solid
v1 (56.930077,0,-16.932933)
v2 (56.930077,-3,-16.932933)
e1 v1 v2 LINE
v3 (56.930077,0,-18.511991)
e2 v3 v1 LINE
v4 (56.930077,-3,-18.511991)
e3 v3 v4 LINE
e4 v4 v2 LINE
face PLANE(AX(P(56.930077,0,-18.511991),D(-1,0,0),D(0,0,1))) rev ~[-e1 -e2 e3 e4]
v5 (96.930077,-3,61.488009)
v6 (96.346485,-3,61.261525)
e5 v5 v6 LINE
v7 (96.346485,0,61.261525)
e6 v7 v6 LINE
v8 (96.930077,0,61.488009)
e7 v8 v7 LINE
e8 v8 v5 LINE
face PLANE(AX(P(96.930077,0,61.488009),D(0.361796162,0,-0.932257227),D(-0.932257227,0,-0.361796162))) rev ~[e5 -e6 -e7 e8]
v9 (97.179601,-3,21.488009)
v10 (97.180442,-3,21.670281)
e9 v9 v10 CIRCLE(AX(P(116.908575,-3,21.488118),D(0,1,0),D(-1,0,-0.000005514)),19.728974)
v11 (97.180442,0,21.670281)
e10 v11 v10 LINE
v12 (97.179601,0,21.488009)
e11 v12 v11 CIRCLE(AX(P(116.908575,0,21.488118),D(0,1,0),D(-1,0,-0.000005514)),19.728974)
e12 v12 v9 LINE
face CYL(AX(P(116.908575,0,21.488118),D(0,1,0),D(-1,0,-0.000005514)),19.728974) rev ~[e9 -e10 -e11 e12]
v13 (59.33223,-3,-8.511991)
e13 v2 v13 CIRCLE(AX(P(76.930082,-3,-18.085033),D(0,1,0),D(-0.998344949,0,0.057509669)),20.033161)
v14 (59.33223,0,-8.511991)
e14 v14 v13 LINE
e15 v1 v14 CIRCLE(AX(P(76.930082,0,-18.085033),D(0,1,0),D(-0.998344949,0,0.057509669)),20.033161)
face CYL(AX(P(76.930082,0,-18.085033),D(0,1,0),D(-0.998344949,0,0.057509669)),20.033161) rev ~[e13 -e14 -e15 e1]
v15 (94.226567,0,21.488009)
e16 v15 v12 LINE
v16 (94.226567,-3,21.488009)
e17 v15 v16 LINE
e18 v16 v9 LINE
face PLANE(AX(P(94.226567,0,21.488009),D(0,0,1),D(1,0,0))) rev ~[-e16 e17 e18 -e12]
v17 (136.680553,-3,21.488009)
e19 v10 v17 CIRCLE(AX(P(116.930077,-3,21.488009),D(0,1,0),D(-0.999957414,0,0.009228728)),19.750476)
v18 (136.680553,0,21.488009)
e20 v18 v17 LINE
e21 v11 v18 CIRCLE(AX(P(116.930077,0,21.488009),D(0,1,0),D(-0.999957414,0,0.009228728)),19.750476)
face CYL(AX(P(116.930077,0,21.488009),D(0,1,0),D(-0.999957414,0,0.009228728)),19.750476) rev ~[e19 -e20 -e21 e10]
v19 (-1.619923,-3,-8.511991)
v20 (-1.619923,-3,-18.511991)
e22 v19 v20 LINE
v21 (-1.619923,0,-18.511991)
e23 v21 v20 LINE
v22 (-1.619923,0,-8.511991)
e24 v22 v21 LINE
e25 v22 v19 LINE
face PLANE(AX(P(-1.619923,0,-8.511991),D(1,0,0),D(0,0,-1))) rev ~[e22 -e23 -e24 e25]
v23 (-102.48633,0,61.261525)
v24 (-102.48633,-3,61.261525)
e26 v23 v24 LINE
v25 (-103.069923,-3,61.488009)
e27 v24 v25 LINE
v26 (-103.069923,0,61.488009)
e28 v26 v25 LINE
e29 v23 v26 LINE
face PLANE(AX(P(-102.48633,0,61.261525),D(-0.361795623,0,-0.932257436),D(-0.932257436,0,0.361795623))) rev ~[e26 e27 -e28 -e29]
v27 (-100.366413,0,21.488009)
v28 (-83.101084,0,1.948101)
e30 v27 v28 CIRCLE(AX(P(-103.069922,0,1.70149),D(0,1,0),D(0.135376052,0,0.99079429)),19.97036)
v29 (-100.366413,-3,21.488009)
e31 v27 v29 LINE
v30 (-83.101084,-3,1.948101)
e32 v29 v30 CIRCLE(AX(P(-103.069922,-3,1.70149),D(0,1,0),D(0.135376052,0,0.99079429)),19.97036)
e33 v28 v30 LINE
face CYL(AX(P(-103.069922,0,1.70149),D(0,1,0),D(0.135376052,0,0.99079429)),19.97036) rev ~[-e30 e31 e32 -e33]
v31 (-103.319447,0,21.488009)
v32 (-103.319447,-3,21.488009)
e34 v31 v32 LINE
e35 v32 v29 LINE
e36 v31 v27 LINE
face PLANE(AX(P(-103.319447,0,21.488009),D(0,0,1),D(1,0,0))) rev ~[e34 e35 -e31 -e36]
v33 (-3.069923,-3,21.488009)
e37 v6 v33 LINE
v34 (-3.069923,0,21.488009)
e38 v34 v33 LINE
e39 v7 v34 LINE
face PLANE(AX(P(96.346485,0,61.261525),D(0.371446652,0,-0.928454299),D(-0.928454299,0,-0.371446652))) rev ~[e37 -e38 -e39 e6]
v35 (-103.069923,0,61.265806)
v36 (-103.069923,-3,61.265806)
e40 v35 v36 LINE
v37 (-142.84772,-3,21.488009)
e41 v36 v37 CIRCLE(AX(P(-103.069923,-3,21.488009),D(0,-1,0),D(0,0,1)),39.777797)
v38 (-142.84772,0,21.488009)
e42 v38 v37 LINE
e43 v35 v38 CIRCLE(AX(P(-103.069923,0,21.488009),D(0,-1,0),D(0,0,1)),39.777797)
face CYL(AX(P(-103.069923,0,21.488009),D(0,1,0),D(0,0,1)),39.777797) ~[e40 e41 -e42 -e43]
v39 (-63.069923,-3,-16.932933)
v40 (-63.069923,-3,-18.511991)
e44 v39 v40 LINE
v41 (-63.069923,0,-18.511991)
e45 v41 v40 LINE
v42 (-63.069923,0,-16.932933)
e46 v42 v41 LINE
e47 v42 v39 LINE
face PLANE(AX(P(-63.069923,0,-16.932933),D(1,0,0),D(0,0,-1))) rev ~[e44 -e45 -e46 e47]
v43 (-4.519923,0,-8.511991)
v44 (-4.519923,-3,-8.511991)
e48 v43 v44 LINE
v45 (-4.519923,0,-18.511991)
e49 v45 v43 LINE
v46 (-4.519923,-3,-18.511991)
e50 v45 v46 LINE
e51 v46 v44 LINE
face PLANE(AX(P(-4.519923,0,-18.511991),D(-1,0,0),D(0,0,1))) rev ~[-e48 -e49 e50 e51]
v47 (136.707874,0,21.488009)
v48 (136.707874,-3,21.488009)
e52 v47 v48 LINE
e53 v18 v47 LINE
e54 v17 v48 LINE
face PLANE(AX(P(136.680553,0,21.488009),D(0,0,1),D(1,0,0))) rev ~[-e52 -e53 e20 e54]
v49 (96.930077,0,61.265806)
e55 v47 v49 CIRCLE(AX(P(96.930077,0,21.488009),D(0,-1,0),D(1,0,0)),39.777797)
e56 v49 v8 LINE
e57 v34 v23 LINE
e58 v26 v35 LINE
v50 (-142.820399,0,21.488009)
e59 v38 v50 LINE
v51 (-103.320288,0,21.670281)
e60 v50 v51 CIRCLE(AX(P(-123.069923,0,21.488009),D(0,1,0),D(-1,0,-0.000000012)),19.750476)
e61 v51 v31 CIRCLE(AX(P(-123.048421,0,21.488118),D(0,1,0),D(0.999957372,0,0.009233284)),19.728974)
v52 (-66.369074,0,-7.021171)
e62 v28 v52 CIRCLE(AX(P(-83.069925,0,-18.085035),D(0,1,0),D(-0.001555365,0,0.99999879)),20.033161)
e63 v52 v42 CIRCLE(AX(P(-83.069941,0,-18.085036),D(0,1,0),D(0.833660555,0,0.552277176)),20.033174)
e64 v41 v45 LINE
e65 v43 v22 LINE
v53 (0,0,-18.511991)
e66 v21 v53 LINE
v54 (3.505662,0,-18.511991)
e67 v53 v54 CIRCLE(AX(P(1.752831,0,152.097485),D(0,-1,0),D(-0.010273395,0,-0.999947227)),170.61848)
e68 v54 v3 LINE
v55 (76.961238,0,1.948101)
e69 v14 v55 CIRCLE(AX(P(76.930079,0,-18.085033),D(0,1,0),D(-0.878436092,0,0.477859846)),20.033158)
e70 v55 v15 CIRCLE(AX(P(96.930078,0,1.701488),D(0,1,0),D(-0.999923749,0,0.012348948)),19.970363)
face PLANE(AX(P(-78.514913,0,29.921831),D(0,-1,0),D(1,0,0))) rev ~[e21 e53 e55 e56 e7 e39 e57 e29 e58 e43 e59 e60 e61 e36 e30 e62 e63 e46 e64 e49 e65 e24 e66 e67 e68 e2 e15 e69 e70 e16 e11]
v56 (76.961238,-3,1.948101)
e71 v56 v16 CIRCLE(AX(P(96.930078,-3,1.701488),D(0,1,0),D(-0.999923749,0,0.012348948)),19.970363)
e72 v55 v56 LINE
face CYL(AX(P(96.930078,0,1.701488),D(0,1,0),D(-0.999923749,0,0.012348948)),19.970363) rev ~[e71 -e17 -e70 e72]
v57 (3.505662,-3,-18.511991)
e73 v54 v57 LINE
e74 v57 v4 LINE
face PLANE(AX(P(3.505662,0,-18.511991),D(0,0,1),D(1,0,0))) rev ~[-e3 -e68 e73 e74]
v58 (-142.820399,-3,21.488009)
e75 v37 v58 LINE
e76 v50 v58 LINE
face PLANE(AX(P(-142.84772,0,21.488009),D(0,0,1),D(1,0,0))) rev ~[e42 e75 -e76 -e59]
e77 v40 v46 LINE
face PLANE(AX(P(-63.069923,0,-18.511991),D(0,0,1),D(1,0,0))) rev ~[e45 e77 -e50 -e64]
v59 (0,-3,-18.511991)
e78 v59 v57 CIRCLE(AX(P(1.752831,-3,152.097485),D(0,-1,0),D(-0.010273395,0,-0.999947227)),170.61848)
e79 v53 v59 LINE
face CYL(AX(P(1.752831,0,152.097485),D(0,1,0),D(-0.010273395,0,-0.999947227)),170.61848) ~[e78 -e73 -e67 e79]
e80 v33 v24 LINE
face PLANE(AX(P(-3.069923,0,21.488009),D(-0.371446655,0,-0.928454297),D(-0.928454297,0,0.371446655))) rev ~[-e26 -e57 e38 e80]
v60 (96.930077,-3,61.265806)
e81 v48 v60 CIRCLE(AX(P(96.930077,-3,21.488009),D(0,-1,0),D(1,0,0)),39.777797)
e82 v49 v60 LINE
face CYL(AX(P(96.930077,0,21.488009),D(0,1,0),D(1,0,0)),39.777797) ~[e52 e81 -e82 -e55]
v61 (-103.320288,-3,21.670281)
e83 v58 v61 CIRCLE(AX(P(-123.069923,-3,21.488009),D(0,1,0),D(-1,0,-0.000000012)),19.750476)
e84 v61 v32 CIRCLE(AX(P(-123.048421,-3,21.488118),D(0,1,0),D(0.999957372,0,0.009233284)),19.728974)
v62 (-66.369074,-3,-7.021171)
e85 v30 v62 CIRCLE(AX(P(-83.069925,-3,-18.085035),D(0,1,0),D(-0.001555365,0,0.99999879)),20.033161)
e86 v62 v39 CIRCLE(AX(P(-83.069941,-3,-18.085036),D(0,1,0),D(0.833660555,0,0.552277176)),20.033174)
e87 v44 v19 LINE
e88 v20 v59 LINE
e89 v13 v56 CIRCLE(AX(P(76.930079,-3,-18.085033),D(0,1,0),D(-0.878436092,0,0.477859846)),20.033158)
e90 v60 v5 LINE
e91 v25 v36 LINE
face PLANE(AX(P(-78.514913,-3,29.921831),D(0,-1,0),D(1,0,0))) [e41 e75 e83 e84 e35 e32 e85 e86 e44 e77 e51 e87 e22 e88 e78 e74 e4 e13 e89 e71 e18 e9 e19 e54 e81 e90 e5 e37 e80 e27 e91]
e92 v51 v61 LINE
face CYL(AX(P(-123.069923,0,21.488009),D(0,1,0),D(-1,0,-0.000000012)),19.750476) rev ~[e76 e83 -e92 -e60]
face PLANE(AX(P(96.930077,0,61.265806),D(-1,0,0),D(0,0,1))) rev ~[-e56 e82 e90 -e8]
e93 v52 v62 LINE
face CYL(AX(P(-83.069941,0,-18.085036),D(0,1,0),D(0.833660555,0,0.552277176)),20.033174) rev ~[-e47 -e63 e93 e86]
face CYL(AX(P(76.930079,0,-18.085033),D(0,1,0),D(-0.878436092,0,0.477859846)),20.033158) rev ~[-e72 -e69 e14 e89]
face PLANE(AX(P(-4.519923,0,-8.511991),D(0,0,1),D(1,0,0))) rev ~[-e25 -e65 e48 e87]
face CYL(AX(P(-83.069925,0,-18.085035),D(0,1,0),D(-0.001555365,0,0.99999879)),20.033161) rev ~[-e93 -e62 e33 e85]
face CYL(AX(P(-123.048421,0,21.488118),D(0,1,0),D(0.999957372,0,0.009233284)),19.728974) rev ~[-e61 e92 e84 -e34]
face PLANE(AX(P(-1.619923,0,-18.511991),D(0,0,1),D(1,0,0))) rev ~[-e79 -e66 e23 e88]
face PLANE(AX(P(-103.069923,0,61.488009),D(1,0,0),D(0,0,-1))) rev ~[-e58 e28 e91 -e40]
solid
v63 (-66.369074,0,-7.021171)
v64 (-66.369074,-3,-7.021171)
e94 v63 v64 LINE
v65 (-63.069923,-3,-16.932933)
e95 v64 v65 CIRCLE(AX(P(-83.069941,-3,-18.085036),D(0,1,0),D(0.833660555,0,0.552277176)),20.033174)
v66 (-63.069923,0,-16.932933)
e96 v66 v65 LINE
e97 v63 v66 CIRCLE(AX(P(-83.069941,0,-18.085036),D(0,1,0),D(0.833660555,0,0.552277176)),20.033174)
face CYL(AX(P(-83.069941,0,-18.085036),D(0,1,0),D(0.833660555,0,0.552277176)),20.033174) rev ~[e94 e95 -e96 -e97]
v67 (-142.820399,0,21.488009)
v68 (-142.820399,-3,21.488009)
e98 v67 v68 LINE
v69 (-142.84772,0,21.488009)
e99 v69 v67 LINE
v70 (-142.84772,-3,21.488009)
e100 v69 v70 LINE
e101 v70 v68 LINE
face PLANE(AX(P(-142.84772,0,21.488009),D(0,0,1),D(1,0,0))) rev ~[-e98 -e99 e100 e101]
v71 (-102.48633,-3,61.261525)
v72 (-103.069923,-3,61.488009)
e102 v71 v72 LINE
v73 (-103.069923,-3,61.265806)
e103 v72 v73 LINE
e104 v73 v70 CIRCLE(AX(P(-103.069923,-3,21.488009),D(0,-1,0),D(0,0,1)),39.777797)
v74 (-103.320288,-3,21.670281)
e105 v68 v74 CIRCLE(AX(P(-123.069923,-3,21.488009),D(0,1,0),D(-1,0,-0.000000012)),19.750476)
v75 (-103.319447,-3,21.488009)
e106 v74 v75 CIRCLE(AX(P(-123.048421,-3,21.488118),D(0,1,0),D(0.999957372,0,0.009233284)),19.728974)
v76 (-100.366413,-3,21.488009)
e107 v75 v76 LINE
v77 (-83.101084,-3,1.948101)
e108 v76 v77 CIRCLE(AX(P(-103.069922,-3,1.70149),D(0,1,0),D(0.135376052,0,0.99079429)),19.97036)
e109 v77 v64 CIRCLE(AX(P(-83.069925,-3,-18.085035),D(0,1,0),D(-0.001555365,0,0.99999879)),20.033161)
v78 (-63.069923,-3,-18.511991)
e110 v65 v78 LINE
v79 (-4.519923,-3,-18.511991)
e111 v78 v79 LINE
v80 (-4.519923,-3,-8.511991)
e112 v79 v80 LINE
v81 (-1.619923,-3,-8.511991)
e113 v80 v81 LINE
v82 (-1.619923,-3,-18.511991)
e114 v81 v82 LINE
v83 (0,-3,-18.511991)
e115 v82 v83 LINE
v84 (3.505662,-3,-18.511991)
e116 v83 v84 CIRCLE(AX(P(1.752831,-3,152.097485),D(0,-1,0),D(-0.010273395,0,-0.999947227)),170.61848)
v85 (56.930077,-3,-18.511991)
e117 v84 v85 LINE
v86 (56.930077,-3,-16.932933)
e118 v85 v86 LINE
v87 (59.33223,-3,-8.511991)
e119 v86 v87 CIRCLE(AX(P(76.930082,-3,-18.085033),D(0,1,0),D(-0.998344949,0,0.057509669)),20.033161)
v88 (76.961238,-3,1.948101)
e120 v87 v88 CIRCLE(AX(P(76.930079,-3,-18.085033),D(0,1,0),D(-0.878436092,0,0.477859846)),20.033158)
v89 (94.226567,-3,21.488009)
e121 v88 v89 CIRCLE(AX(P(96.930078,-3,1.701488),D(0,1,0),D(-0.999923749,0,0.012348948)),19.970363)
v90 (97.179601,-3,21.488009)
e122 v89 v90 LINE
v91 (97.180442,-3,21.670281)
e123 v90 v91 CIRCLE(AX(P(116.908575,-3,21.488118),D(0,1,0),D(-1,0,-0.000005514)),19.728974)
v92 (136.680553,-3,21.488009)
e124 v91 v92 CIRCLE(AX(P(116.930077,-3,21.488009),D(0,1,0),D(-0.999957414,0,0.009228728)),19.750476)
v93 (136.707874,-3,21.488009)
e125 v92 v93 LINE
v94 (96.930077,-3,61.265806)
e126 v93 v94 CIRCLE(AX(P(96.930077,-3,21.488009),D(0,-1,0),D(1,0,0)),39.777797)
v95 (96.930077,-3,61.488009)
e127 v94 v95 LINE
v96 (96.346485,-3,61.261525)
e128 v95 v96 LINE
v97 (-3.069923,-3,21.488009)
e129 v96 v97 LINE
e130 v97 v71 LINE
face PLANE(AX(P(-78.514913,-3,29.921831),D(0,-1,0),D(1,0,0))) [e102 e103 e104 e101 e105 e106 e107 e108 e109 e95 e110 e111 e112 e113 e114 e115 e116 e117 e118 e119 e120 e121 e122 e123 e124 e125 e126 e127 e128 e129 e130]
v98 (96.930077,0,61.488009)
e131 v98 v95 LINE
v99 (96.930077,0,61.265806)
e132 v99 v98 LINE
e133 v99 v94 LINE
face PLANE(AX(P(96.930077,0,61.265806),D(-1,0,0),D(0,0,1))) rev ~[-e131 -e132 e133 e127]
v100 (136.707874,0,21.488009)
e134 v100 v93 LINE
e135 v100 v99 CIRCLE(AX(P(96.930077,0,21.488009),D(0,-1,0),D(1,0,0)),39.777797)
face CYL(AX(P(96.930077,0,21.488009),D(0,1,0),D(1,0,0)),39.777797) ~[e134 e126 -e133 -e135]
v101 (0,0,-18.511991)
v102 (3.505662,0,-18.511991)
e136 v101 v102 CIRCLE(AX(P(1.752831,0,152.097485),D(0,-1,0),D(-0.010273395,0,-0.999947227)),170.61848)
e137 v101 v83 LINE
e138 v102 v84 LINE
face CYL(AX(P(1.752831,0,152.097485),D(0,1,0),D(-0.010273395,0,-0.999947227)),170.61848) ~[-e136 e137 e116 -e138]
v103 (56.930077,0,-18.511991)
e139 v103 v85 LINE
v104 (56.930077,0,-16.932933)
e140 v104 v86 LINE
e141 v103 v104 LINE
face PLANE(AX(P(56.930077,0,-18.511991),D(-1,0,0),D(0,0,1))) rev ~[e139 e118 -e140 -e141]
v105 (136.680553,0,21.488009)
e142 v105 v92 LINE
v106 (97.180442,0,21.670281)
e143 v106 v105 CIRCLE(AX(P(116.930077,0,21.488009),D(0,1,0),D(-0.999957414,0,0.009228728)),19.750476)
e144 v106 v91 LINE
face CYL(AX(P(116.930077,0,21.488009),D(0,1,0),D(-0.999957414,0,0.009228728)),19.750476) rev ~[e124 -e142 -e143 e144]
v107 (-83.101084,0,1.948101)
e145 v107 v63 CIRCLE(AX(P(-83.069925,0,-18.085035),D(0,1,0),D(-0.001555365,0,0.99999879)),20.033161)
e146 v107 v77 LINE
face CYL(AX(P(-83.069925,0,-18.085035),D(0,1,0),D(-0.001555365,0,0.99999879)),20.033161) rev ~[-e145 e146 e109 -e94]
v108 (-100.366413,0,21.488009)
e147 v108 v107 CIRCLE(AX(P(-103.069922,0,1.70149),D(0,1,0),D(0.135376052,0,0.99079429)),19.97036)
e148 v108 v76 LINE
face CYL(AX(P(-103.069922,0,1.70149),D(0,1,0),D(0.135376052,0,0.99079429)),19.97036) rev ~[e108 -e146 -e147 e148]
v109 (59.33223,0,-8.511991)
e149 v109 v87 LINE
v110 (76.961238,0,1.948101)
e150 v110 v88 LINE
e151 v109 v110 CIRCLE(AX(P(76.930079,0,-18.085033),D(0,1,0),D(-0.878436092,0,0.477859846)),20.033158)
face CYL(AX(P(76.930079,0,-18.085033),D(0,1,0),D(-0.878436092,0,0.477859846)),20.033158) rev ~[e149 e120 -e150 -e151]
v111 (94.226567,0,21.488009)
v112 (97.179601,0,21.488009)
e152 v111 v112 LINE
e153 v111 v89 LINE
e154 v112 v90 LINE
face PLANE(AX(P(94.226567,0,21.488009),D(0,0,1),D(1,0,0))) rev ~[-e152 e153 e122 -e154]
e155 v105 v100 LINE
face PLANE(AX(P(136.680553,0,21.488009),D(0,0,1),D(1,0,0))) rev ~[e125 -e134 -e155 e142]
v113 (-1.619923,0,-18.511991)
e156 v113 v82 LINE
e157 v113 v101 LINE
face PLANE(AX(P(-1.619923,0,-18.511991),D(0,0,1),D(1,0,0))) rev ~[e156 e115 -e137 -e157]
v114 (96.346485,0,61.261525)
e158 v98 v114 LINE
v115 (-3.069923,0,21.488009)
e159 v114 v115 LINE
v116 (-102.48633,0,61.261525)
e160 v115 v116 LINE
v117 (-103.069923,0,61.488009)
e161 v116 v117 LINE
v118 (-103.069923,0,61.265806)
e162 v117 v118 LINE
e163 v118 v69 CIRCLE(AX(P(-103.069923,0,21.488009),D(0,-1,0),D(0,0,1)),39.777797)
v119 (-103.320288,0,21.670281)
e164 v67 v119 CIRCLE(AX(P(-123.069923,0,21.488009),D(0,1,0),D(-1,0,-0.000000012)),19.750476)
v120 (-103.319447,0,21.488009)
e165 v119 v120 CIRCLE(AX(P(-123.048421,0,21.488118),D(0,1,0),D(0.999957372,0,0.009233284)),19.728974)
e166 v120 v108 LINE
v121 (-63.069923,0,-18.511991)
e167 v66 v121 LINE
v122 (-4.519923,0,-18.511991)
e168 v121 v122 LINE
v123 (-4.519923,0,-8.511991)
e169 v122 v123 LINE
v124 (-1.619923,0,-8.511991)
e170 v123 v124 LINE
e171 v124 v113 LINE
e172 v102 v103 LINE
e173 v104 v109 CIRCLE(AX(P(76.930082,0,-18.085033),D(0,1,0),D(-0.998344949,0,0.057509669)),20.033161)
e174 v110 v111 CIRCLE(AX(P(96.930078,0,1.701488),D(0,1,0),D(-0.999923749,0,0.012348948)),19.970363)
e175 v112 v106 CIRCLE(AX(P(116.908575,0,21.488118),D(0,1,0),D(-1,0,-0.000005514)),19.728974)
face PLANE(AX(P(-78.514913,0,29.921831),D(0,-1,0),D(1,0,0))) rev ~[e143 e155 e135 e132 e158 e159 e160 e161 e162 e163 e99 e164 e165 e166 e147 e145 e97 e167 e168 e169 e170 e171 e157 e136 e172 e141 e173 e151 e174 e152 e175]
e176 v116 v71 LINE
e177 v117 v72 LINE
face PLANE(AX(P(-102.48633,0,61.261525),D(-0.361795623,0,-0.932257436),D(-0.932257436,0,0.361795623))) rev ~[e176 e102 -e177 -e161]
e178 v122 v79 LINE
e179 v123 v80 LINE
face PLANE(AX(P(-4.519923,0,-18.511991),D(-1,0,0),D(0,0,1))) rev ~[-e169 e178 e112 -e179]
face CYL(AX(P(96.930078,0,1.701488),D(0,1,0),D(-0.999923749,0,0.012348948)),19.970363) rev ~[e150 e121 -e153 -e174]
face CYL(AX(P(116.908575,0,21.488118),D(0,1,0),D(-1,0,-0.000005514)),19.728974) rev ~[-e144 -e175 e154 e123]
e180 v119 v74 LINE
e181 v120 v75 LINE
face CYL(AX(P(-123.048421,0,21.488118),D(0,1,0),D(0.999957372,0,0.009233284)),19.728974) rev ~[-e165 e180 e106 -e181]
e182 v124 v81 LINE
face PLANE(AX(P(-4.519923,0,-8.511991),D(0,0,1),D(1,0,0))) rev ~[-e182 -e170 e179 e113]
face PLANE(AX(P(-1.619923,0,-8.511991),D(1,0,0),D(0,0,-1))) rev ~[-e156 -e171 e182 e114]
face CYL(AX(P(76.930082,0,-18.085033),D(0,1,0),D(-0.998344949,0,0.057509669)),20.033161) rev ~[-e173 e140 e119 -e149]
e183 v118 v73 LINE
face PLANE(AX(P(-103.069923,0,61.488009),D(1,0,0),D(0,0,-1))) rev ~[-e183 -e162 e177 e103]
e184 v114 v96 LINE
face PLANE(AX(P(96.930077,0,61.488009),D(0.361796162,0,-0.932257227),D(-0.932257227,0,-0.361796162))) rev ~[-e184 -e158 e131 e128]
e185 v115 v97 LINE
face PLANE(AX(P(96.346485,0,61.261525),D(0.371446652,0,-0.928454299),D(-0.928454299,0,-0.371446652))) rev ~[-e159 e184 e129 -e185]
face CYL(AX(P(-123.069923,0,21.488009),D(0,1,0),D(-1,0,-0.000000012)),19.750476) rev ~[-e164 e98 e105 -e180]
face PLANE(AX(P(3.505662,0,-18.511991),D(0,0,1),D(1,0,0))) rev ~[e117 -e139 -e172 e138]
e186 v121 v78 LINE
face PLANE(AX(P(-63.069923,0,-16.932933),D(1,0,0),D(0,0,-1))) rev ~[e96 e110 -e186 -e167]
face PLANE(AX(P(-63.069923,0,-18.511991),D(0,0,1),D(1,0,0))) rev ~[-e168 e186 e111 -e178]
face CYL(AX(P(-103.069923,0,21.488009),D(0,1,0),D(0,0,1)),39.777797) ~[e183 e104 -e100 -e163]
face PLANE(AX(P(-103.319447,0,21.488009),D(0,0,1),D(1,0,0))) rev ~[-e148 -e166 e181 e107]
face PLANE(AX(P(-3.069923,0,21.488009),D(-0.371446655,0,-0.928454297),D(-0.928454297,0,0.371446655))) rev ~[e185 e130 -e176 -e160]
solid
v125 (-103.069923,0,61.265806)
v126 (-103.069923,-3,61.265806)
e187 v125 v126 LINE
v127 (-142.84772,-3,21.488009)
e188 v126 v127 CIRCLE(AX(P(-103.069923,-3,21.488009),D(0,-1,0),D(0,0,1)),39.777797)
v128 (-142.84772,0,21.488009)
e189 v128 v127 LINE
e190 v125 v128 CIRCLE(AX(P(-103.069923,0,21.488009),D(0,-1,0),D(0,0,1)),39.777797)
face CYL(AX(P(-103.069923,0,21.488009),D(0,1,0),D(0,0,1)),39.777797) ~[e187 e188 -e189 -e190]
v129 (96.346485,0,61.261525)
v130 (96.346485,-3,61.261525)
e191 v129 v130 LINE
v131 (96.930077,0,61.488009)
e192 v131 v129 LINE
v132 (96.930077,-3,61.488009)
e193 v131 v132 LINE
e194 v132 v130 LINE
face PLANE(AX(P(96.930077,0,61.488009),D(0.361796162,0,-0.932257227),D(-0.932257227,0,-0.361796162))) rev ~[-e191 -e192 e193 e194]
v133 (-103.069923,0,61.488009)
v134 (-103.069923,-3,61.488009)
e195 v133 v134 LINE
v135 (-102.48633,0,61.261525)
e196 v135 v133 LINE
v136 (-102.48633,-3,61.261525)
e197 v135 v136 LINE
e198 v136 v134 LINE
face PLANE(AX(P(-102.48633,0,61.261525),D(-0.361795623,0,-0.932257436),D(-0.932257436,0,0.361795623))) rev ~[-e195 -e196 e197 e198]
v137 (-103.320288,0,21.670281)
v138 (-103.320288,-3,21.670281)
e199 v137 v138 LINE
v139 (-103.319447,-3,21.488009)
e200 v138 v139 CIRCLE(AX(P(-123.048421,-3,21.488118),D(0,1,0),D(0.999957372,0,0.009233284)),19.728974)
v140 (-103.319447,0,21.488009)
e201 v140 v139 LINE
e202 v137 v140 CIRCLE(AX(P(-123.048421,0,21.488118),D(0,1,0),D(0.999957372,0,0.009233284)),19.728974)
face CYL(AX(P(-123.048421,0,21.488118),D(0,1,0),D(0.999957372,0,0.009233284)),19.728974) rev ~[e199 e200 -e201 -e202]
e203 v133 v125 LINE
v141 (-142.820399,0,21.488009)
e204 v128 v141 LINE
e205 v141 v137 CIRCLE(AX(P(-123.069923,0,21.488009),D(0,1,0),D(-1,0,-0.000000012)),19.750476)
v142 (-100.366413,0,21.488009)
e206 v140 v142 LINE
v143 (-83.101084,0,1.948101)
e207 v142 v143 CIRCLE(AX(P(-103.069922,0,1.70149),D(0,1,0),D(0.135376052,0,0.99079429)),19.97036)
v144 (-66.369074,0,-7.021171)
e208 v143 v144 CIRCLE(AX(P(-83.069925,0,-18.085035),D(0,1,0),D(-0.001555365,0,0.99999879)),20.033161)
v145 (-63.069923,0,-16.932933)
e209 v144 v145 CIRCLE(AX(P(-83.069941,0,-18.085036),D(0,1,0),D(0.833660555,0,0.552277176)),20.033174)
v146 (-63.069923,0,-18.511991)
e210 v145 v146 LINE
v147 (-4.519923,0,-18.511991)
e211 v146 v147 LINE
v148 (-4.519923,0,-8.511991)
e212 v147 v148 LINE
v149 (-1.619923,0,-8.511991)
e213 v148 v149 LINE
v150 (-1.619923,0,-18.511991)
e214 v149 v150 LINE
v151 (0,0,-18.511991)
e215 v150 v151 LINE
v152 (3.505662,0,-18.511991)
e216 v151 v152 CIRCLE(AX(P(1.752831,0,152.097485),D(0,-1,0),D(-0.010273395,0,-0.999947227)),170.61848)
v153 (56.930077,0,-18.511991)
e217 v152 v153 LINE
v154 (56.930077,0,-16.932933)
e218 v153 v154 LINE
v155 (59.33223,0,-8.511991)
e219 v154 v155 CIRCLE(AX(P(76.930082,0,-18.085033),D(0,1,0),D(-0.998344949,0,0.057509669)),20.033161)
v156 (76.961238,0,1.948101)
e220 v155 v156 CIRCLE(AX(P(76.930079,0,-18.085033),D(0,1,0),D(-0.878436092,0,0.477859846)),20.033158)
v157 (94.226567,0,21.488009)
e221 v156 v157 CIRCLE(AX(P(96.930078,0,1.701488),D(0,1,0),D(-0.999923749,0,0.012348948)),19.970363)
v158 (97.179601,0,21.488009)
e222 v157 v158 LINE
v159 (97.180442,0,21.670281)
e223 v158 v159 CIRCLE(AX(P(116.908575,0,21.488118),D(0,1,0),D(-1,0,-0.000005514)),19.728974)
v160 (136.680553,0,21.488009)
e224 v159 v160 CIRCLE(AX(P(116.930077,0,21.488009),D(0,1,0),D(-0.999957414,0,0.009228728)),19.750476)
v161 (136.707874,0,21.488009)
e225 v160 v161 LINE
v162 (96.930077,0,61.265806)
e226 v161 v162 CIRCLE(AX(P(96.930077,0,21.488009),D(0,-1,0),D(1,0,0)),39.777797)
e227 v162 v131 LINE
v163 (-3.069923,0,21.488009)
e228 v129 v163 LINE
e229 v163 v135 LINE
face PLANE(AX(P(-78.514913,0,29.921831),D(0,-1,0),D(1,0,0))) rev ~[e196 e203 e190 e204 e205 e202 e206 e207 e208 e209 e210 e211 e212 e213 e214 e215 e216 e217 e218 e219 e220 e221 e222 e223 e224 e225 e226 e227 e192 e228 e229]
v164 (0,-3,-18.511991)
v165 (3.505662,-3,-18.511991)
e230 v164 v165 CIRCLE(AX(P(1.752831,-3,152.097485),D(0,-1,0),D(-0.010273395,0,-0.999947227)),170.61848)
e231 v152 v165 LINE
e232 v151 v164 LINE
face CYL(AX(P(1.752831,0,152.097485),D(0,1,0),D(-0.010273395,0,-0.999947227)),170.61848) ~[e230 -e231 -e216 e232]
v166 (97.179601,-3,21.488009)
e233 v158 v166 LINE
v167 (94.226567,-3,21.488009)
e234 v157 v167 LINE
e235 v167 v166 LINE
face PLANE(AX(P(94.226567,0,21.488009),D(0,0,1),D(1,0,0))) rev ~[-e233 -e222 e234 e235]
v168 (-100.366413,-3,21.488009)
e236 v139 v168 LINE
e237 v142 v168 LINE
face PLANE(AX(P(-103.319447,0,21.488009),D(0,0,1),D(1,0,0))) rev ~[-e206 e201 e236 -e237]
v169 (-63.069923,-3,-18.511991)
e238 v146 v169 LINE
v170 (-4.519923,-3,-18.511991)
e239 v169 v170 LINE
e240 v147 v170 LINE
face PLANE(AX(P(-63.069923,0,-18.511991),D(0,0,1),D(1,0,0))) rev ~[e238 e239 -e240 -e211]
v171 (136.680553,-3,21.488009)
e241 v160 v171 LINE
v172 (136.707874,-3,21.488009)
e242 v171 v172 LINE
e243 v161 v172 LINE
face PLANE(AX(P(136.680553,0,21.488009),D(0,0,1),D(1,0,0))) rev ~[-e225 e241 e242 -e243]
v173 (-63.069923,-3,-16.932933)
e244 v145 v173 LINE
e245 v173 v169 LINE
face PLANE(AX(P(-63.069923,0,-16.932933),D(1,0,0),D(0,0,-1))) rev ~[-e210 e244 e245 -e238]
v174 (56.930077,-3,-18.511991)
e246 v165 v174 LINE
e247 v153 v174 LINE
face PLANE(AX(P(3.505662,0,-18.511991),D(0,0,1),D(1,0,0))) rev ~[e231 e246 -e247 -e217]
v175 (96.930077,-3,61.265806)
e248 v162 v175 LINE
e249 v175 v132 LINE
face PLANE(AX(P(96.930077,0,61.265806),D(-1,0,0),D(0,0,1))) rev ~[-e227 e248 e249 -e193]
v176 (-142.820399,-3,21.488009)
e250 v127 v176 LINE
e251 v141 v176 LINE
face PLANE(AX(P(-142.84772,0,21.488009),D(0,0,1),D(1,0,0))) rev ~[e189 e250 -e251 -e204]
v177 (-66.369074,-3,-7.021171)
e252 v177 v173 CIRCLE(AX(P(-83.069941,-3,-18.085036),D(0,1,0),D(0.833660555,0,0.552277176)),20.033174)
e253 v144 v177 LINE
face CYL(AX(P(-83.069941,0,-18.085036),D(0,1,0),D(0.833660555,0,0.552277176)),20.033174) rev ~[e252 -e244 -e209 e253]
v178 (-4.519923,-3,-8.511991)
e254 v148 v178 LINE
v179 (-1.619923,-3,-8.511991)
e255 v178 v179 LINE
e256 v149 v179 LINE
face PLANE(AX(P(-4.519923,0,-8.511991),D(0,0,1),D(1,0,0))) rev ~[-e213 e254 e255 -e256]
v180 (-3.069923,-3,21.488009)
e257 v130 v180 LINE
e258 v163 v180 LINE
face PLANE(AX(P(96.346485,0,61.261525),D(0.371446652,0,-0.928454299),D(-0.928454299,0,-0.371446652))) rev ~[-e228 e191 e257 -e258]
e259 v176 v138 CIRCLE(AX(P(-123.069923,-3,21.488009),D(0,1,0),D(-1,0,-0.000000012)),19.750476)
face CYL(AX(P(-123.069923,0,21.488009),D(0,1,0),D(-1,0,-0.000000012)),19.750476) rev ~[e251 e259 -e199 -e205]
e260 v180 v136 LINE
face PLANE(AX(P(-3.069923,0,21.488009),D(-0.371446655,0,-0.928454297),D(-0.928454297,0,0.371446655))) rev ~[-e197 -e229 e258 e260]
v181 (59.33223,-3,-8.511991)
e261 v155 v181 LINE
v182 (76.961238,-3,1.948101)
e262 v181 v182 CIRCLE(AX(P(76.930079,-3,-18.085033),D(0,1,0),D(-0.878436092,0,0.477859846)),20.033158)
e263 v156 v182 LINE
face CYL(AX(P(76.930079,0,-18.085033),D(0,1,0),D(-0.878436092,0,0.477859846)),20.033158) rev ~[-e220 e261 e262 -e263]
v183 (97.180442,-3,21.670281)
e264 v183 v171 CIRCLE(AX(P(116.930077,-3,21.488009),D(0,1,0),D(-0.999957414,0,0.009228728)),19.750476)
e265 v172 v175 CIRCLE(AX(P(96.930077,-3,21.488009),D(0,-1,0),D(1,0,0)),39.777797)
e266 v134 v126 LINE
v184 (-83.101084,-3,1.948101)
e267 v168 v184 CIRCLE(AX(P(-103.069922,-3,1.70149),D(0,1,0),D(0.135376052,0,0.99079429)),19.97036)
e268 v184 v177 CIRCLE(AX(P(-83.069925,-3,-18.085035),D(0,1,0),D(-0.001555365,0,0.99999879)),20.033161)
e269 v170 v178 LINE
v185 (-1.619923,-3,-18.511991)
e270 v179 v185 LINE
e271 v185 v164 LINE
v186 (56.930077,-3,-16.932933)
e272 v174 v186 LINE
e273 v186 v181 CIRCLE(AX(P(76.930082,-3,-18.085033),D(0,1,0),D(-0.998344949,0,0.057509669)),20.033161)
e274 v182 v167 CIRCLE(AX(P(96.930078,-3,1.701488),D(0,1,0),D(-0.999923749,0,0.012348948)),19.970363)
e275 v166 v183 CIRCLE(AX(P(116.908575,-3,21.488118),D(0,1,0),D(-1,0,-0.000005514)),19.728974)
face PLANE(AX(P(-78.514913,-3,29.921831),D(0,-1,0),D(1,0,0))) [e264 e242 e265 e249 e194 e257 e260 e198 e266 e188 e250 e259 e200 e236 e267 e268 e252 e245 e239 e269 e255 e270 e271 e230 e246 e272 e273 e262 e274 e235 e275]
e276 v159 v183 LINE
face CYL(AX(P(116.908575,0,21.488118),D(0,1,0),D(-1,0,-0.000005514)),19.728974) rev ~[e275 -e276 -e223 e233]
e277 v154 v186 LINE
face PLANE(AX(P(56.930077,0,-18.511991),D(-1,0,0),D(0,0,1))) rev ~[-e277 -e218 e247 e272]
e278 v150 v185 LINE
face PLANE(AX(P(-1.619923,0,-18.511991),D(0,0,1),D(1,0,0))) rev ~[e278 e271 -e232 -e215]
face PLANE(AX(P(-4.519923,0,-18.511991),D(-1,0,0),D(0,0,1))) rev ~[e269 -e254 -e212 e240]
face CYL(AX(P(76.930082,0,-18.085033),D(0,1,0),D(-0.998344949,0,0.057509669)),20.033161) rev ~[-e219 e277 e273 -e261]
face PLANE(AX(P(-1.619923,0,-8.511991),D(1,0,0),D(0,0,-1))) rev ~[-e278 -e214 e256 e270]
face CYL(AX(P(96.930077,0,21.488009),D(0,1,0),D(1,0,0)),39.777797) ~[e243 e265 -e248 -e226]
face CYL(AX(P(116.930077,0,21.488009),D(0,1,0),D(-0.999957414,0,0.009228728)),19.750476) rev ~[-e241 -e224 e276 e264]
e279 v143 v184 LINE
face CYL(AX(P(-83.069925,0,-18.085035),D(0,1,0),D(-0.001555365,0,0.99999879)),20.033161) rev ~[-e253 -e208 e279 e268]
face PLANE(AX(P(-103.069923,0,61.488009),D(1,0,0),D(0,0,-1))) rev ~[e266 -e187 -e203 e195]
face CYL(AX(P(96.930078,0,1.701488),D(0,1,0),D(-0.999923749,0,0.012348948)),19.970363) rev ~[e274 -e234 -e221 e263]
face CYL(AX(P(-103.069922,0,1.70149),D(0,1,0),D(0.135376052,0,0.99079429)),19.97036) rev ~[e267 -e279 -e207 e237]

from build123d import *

# Parameters (mm, degrees)
F1_DEPTH = 3
F2_DEPTH = 3
F3_DEPTH = 3


with BuildPart() as f1:
    # F0 (on Front) → F1 (new body)
    with BuildSketch(Plane.XZ):
        with BuildLine():
            Line((-63.069923, -8.252302), (-63.069923, 21.488009))
            Line((-63.069923, 21.488009), (-3.069923, 21.488009))
            Line((-3.069923, 21.488009), (-102.48633, 61.261525))
            ThreePointArc((-102.48633, 61.261525), (-102.778119, 61.264736), (-103.069923, 61.265806))
            ThreePointArc((-103.069923, 61.265806), (-131.197073, 49.615159), (-142.84772, 21.488009))
            Line((-142.84772, 21.488009), (-142.820399, 21.488009))
            ThreePointArc((-142.820399, 21.488009), (-123.16106, 41.238275), (-103.320288, 21.670281))
            ThreePointArc((-103.320288, 21.670281), (-103.195108, 21.671458), (-103.069923, 21.67185))
            ThreePointArc((-103.069923, 21.67185), (-101.715046, 21.625837), (-100.366413, 21.488009))
            ThreePointArc((-100.366413, 21.488009), (-88.104601, 14.924745), (-83.101084, 1.948101))
            ThreePointArc((-83.101084, 1.948101), (-73.605168, -0.428708), (-66.369074, -7.021171))
            ThreePointArc((-66.369074, -7.021171), (-64.722646, -7.64517), (-63.069923, -8.252302))
        make_face()
        with BuildLine():
            Line((-3.069923, 21.488009), (-63.069923, 21.488009))
            Line((-63.069923, 21.488009), (-63.069923, -8.252302))
            ThreePointArc((-63.069923, -8.252302), (-34.240975, -15.927676), (-4.519923, -18.511991))
            Line((-4.519923, -18.511991), (-4.519923, -8.511991))
            Line((-4.519923, -8.511991), (-3.069923, -8.511991))
            Line((-3.069923, -8.511991), (-3.069923, 21.488009))
        make_face()
        with BuildLine():
            Line((96.346485, 61.261525), (-3.069923, 21.488009))
            Line((-3.069923, 21.488009), (56.930077, 21.488009))
            Line((56.930077, 21.488009), (56.930077, -9.352978))
            ThreePointArc((56.930077, -9.352978), (58.132721, -8.936963), (59.33223, -8.511991))
            ThreePointArc((59.33223, -8.511991), (66.707529, -0.856368), (76.961238, 1.948101))
            ThreePointArc((76.961238, 1.948101), (81.964756, 14.924745), (94.226567, 21.488009))
            ThreePointArc((94.226567, 21.488009), (95.5752, 21.625837), (96.930077, 21.67185))
            ThreePointArc((96.930077, 21.67185), (97.055262, 21.671458), (97.180442, 21.670281))
            ThreePointArc((97.180442, 21.670281), (117.021214, 41.238275), (136.680553, 21.488009))
            Line((136.680553, 21.488009), (136.707874, 21.488009))
            ThreePointArc((136.707874, 21.488009), (125.057227, 49.615159), (96.930077, 61.265806))
            ThreePointArc((96.930077, 61.265806), (96.638273, 61.264736), (96.346485, 61.261525))
        make_face()
        with BuildLine():
            Line((56.930077, 21.488009), (-3.069923, 21.488009))
            Line((-3.069923, 21.488009), (-3.069923, -8.511991))
            Line((-3.069923, -8.511991), (-1.619923, -8.511991))
            Line((-1.619923, -8.511991), (-1.619923, -18.511991))
            Line((-1.619923, -18.511991), (0, -18.511991))
            Line((0, -18.511991), (3.505662, -18.511991))
            ThreePointArc((3.505662, -18.511991), (30.583896, -16.067511), (56.930077, -9.352978))
            Line((56.930077, -9.352978), (56.930077, 21.488009))
        make_face()
        with BuildLine():
            ThreePointArc((-4.519923, -18.511991), (-34.240975, -15.927676), (-63.069923, -8.252302))
            Line((-63.069923, -8.252302), (-63.069923, -16.932933))
            ThreePointArc((-63.069923, -16.932933), (-63.040054, -17.72218), (-63.041318, -18.511991))
            Line((-63.041318, -18.511991), (-4.519923, -18.511991))
        make_face()
        with BuildLine():
            Line((-63.069923, -16.932933), (-63.069923, -8.252302))
            ThreePointArc((-63.069923, -8.252302), (-64.722646, -7.64517), (-66.369074, -7.021171))
            ThreePointArc((-66.369074, -7.021171), (-64.062061, -11.758223), (-63.069923, -16.932933))
        make_face()
        with BuildLine():
            ThreePointArc((-103.069923, 61.265806), (-102.778119, 61.264736), (-102.48633, 61.261525))
            Line((-102.48633, 61.261525), (-103.069923, 61.488009))
            Line((-103.069923, 61.488009), (-103.069923, 61.265806))
        make_face()
        with BuildLine():
            Line((96.930077, 61.488009), (96.346485, 61.261525))
            ThreePointArc((96.346485, 61.261525), (96.638273, 61.264736), (96.930077, 61.265806))
            Line((96.930077, 61.265806), (96.930077, 61.488009))
        make_face()
        with BuildLine():
            ThreePointArc((-63.041318, -18.511991), (-63.040054, -17.72218), (-63.069923, -16.932933))
            Line((-63.069923, -16.932933), (-63.069923, -18.085031))
            Line((-63.069923, -18.085031), (-63.069923, -18.511991))
            Line((-63.069923, -18.511991), (-63.041318, -18.511991))
        make_face()
        with BuildLine():
            ThreePointArc((59.33223, -8.511991), (58.132721, -8.936963), (56.930077, -9.352978))
            Line((56.930077, -9.352978), (56.930077, -16.932933))
            ThreePointArc((56.930077, -16.932933), (57.665405, -12.589603), (59.33223, -8.511991))
        make_face()
        with BuildLine():
            Line((56.930077, -16.932933), (56.930077, -9.352978))
            ThreePointArc((56.930077, -9.352978), (30.583896, -16.067511), (3.505662, -18.511991))
            Line((3.505662, -18.511991), (56.901472, -18.511991))
            ThreePointArc((56.901472, -18.511991), (56.900208, -17.72218), (56.930077, -16.932933))
        make_face()
        with BuildLine():
            Line((56.930077, -18.085031), (56.930077, -16.932933))
            ThreePointArc((56.930077, -16.932933), (56.900208, -17.72218), (56.901472, -18.511991))
            Line((56.901472, -18.511991), (56.930077, -18.511991))
            Line((56.930077, -18.511991), (56.930077, -18.085031))
        make_face()
        with BuildLine():
            ThreePointArc((0, -18.511991), (1.752831, -18.520995), (3.505662, -18.511991))
            Line((3.505662, -18.511991), (0, -18.511991))
        make_face()
        with BuildLine():
            Line((-103.069923, 21.488009), (-100.366413, 21.488009))
            ThreePointArc((-100.366413, 21.488009), (-101.715046, 21.625837), (-103.069923, 21.67185))
            Line((-103.069923, 21.67185), (-103.069923, 21.488009))
        make_face()
        with BuildLine():
            Line((-103.069923, 21.488009), (-103.069923, 21.67185))
            ThreePointArc((-103.069923, 21.67185), (-103.195108, 21.671458), (-103.320288, 21.670281))
            ThreePointArc((-103.320288, 21.670281), (-103.319657, 21.579146), (-103.319447, 21.488009))
            Line((-103.319447, 21.488009), (-103.069923, 21.488009))
        make_face()
        with BuildLine():
            ThreePointArc((96.930077, 21.67185), (95.5752, 21.625837), (94.226567, 21.488009))
            Line((94.226567, 21.488009), (96.930077, 21.488009))
            Line((96.930077, 21.488009), (96.930077, 21.67185))
        make_face()
        with BuildLine():
            ThreePointArc((97.179601, 21.488009), (97.179811, 21.579146), (97.180442, 21.670281))
            ThreePointArc((97.180442, 21.670281), (97.055262, 21.671458), (96.930077, 21.67185))
            Line((96.930077, 21.67185), (96.930077, 21.488009))
            Line((96.930077, 21.488009), (97.179601, 21.488009))
        make_face()
    extrude(amount=F1_DEPTH)


with BuildPart() as f2:
    # F0 (on Front) → F2 (new body)
    with BuildSketch(Plane.XZ):
        with BuildLine():
            Line((-63.069923, -8.252302), (-63.069923, 21.488009))
            Line((-63.069923, 21.488009), (-3.069923, 21.488009))
            Line((-3.069923, 21.488009), (-102.48633, 61.261525))
            ThreePointArc((-102.48633, 61.261525), (-102.778119, 61.264736), (-103.069923, 61.265806))
            ThreePointArc((-103.069923, 61.265806), (-131.197073, 49.615159), (-142.84772, 21.488009))
            Line((-142.84772, 21.488009), (-142.820399, 21.488009))
            ThreePointArc((-142.820399, 21.488009), (-123.16106, 41.238275), (-103.320288, 21.670281))
            ThreePointArc((-103.320288, 21.670281), (-103.195108, 21.671458), (-103.069923, 21.67185))
            ThreePointArc((-103.069923, 21.67185), (-101.715046, 21.625837), (-100.366413, 21.488009))
            ThreePointArc((-100.366413, 21.488009), (-88.104601, 14.924745), (-83.101084, 1.948101))
            ThreePointArc((-83.101084, 1.948101), (-73.605168, -0.428708), (-66.369074, -7.021171))
            ThreePointArc((-66.369074, -7.021171), (-64.722646, -7.64517), (-63.069923, -8.252302))
        make_face()
        with BuildLine():
            Line((-3.069923, 21.488009), (-63.069923, 21.488009))
            Line((-63.069923, 21.488009), (-63.069923, -8.252302))
            ThreePointArc((-63.069923, -8.252302), (-34.240975, -15.927676), (-4.519923, -18.511991))
            Line((-4.519923, -18.511991), (-4.519923, -8.511991))
            Line((-4.519923, -8.511991), (-3.069923, -8.511991))
            Line((-3.069923, -8.511991), (-3.069923, 21.488009))
        make_face()
        with BuildLine():
            Line((96.346485, 61.261525), (-3.069923, 21.488009))
            Line((-3.069923, 21.488009), (56.930077, 21.488009))
            Line((56.930077, 21.488009), (56.930077, -9.352978))
            ThreePointArc((56.930077, -9.352978), (58.132721, -8.936963), (59.33223, -8.511991))
            ThreePointArc((59.33223, -8.511991), (66.707529, -0.856368), (76.961238, 1.948101))
            ThreePointArc((76.961238, 1.948101), (81.964756, 14.924745), (94.226567, 21.488009))
            ThreePointArc((94.226567, 21.488009), (95.5752, 21.625837), (96.930077, 21.67185))
            ThreePointArc((96.930077, 21.67185), (97.055262, 21.671458), (97.180442, 21.670281))
            ThreePointArc((97.180442, 21.670281), (117.021214, 41.238275), (136.680553, 21.488009))
            Line((136.680553, 21.488009), (136.707874, 21.488009))
            ThreePointArc((136.707874, 21.488009), (125.057227, 49.615159), (96.930077, 61.265806))
            ThreePointArc((96.930077, 61.265806), (96.638273, 61.264736), (96.346485, 61.261525))
        make_face()
        with BuildLine():
            Line((56.930077, 21.488009), (-3.069923, 21.488009))
            Line((-3.069923, 21.488009), (-3.069923, -8.511991))
            Line((-3.069923, -8.511991), (-1.619923, -8.511991))
            Line((-1.619923, -8.511991), (-1.619923, -18.511991))
            Line((-1.619923, -18.511991), (0, -18.511991))
            Line((0, -18.511991), (3.505662, -18.511991))
            ThreePointArc((3.505662, -18.511991), (30.583896, -16.067511), (56.930077, -9.352978))
            Line((56.930077, -9.352978), (56.930077, 21.488009))
        make_face()
        with BuildLine():
            ThreePointArc((-4.519923, -18.511991), (-34.240975, -15.927676), (-63.069923, -8.252302))
            Line((-63.069923, -8.252302), (-63.069923, -16.932933))
            ThreePointArc((-63.069923, -16.932933), (-63.040054, -17.72218), (-63.041318, -18.511991))
            Line((-63.041318, -18.511991), (-4.519923, -18.511991))
        make_face()
        with BuildLine():
            Line((-63.069923, -16.932933), (-63.069923, -8.252302))
            ThreePointArc((-63.069923, -8.252302), (-64.722646, -7.64517), (-66.369074, -7.021171))
            ThreePointArc((-66.369074, -7.021171), (-64.062061, -11.758223), (-63.069923, -16.932933))
        make_face()
        with BuildLine():
            ThreePointArc((-103.069923, 61.265806), (-102.778119, 61.264736), (-102.48633, 61.261525))
            Line((-102.48633, 61.261525), (-103.069923, 61.488009))
            Line((-103.069923, 61.488009), (-103.069923, 61.265806))
        make_face()
        with BuildLine():
            Line((96.930077, 61.488009), (96.346485, 61.261525))
            ThreePointArc((96.346485, 61.261525), (96.638273, 61.264736), (96.930077, 61.265806))
            Line((96.930077, 61.265806), (96.930077, 61.488009))
        make_face()
        with BuildLine():
            ThreePointArc((-63.041318, -18.511991), (-63.040054, -17.72218), (-63.069923, -16.932933))
            Line((-63.069923, -16.932933), (-63.069923, -18.085031))
            Line((-63.069923, -18.085031), (-63.069923, -18.511991))
            Line((-63.069923, -18.511991), (-63.041318, -18.511991))
        make_face()
        with BuildLine():
            ThreePointArc((59.33223, -8.511991), (58.132721, -8.936963), (56.930077, -9.352978))
            Line((56.930077, -9.352978), (56.930077, -16.932933))
            ThreePointArc((56.930077, -16.932933), (57.665405, -12.589603), (59.33223, -8.511991))
        make_face()
        with BuildLine():
            Line((56.930077, -16.932933), (56.930077, -9.352978))
            ThreePointArc((56.930077, -9.352978), (30.583896, -16.067511), (3.505662, -18.511991))
            Line((3.505662, -18.511991), (56.901472, -18.511991))
            ThreePointArc((56.901472, -18.511991), (56.900208, -17.72218), (56.930077, -16.932933))
        make_face()
        with BuildLine():
            Line((56.930077, -18.085031), (56.930077, -16.932933))
            ThreePointArc((56.930077, -16.932933), (56.900208, -17.72218), (56.901472, -18.511991))
            Line((56.901472, -18.511991), (56.930077, -18.511991))
            Line((56.930077, -18.511991), (56.930077, -18.085031))
        make_face()
        with BuildLine():
            ThreePointArc((0, -18.511991), (1.752831, -18.520995), (3.505662, -18.511991))
            Line((3.505662, -18.511991), (0, -18.511991))
        make_face()
        with BuildLine():
            Line((-103.069923, 21.488009), (-100.366413, 21.488009))
            ThreePointArc((-100.366413, 21.488009), (-101.715046, 21.625837), (-103.069923, 21.67185))
            Line((-103.069923, 21.67185), (-103.069923, 21.488009))
        make_face()
        with BuildLine():
            Line((-103.069923, 21.488009), (-103.069923, 21.67185))
            ThreePointArc((-103.069923, 21.67185), (-103.195108, 21.671458), (-103.320288, 21.670281))
            ThreePointArc((-103.320288, 21.670281), (-103.319657, 21.579146), (-103.319447, 21.488009))
            Line((-103.319447, 21.488009), (-103.069923, 21.488009))
        make_face()
        with BuildLine():
            ThreePointArc((96.930077, 21.67185), (95.5752, 21.625837), (94.226567, 21.488009))
            Line((94.226567, 21.488009), (96.930077, 21.488009))
            Line((96.930077, 21.488009), (96.930077, 21.67185))
        make_face()
        with BuildLine():
            ThreePointArc((97.179601, 21.488009), (97.179811, 21.579146), (97.180442, 21.670281))
            ThreePointArc((97.180442, 21.670281), (97.055262, 21.671458), (96.930077, 21.67185))
            Line((96.930077, 21.67185), (96.930077, 21.488009))
            Line((96.930077, 21.488009), (97.179601, 21.488009))
        make_face()
    extrude(amount=F2_DEPTH)


with BuildPart() as f3:
    # F0 (on Front) → F3 (new body)
    with BuildSketch(Plane.XZ):
        with BuildLine():
            Line((-63.069923, -8.252302), (-63.069923, 21.488009))
            Line((-63.069923, 21.488009), (-3.069923, 21.488009))
            Line((-3.069923, 21.488009), (-102.48633, 61.261525))
            ThreePointArc((-102.48633, 61.261525), (-102.778119, 61.264736), (-103.069923, 61.265806))
            ThreePointArc((-103.069923, 61.265806), (-131.197073, 49.615159), (-142.84772, 21.488009))
            Line((-142.84772, 21.488009), (-142.820399, 21.488009))
            ThreePointArc((-142.820399, 21.488009), (-123.16106, 41.238275), (-103.320288, 21.670281))
            ThreePointArc((-103.320288, 21.670281), (-103.195108, 21.671458), (-103.069923, 21.67185))
            ThreePointArc((-103.069923, 21.67185), (-101.715046, 21.625837), (-100.366413, 21.488009))
            ThreePointArc((-100.366413, 21.488009), (-88.104601, 14.924745), (-83.101084, 1.948101))
            ThreePointArc((-83.101084, 1.948101), (-73.605168, -0.428708), (-66.369074, -7.021171))
            ThreePointArc((-66.369074, -7.021171), (-64.722646, -7.64517), (-63.069923, -8.252302))
        make_face()
        with BuildLine():
            Line((-3.069923, 21.488009), (-63.069923, 21.488009))
            Line((-63.069923, 21.488009), (-63.069923, -8.252302))
            ThreePointArc((-63.069923, -8.252302), (-34.240975, -15.927676), (-4.519923, -18.511991))
            Line((-4.519923, -18.511991), (-4.519923, -8.511991))
            Line((-4.519923, -8.511991), (-3.069923, -8.511991))
            Line((-3.069923, -8.511991), (-3.069923, 21.488009))
        make_face()
        with BuildLine():
            Line((96.346485, 61.261525), (-3.069923, 21.488009))
            Line((-3.069923, 21.488009), (56.930077, 21.488009))
            Line((56.930077, 21.488009), (56.930077, -9.352978))
            ThreePointArc((56.930077, -9.352978), (58.132721, -8.936963), (59.33223, -8.511991))
            ThreePointArc((59.33223, -8.511991), (66.707529, -0.856368), (76.961238, 1.948101))
            ThreePointArc((76.961238, 1.948101), (81.964756, 14.924745), (94.226567, 21.488009))
            ThreePointArc((94.226567, 21.488009), (95.5752, 21.625837), (96.930077, 21.67185))
            ThreePointArc((96.930077, 21.67185), (97.055262, 21.671458), (97.180442, 21.670281))
            ThreePointArc((97.180442, 21.670281), (117.021214, 41.238275), (136.680553, 21.488009))
            Line((136.680553, 21.488009), (136.707874, 21.488009))
            ThreePointArc((136.707874, 21.488009), (125.057227, 49.615159), (96.930077, 61.265806))
            ThreePointArc((96.930077, 61.265806), (96.638273, 61.264736), (96.346485, 61.261525))
        make_face()
        with BuildLine():
            Line((56.930077, 21.488009), (-3.069923, 21.488009))
            Line((-3.069923, 21.488009), (-3.069923, -8.511991))
            Line((-3.069923, -8.511991), (-1.619923, -8.511991))
            Line((-1.619923, -8.511991), (-1.619923, -18.511991))
            Line((-1.619923, -18.511991), (0, -18.511991))
            Line((0, -18.511991), (3.505662, -18.511991))
            ThreePointArc((3.505662, -18.511991), (30.583896, -16.067511), (56.930077, -9.352978))
            Line((56.930077, -9.352978), (56.930077, 21.488009))
        make_face()
        with BuildLine():
            ThreePointArc((-4.519923, -18.511991), (-34.240975, -15.927676), (-63.069923, -8.252302))
            Line((-63.069923, -8.252302), (-63.069923, -16.932933))
            ThreePointArc((-63.069923, -16.932933), (-63.040054, -17.72218), (-63.041318, -18.511991))
            Line((-63.041318, -18.511991), (-4.519923, -18.511991))
        make_face()
        with BuildLine():
            Line((-63.069923, -16.932933), (-63.069923, -8.252302))
            ThreePointArc((-63.069923, -8.252302), (-64.722646, -7.64517), (-66.369074, -7.021171))
            ThreePointArc((-66.369074, -7.021171), (-64.062061, -11.758223), (-63.069923, -16.932933))
        make_face()
        with BuildLine():
            ThreePointArc((-103.069923, 61.265806), (-102.778119, 61.264736), (-102.48633, 61.261525))
            Line((-102.48633, 61.261525), (-103.069923, 61.488009))
            Line((-103.069923, 61.488009), (-103.069923, 61.265806))
        make_face()
        with BuildLine():
            Line((96.930077, 61.488009), (96.346485, 61.261525))
            ThreePointArc((96.346485, 61.261525), (96.638273, 61.264736), (96.930077, 61.265806))
            Line((96.930077, 61.265806), (96.930077, 61.488009))
        make_face()
        with BuildLine():
            ThreePointArc((-63.041318, -18.511991), (-63.040054, -17.72218), (-63.069923, -16.932933))
            Line((-63.069923, -16.932933), (-63.069923, -18.085031))
            Line((-63.069923, -18.085031), (-63.069923, -18.511991))
            Line((-63.069923, -18.511991), (-63.041318, -18.511991))
        make_face()
        with BuildLine():
            ThreePointArc((59.33223, -8.511991), (58.132721, -8.936963), (56.930077, -9.352978))
            Line((56.930077, -9.352978), (56.930077, -16.932933))
            ThreePointArc((56.930077, -16.932933), (57.665405, -12.589603), (59.33223, -8.511991))
        make_face()
        with BuildLine():
            Line((56.930077, -16.932933), (56.930077, -9.352978))
            ThreePointArc((56.930077, -9.352978), (30.583896, -16.067511), (3.505662, -18.511991))
            Line((3.505662, -18.511991), (56.901472, -18.511991))
            ThreePointArc((56.901472, -18.511991), (56.900208, -17.72218), (56.930077, -16.932933))
        make_face()
        with BuildLine():
            Line((56.930077, -18.085031), (56.930077, -16.932933))
            ThreePointArc((56.930077, -16.932933), (56.900208, -17.72218), (56.901472, -18.511991))
            Line((56.901472, -18.511991), (56.930077, -18.511991))
            Line((56.930077, -18.511991), (56.930077, -18.085031))
        make_face()
        with BuildLine():
            ThreePointArc((0, -18.511991), (1.752831, -18.520995), (3.505662, -18.511991))
            Line((3.505662, -18.511991), (0, -18.511991))
        make_face()
        with BuildLine():
            Line((-103.069923, 21.488009), (-100.366413, 21.488009))
            ThreePointArc((-100.366413, 21.488009), (-101.715046, 21.625837), (-103.069923, 21.67185))
            Line((-103.069923, 21.67185), (-103.069923, 21.488009))
        make_face()
        with BuildLine():
            Line((-103.069923, 21.488009), (-103.069923, 21.67185))
            ThreePointArc((-103.069923, 21.67185), (-103.195108, 21.671458), (-103.320288, 21.670281))
            ThreePointArc((-103.320288, 21.670281), (-103.319657, 21.579146), (-103.319447, 21.488009))
            Line((-103.319447, 21.488009), (-103.069923, 21.488009))
        make_face()
        with BuildLine():
            ThreePointArc((96.930077, 21.67185), (95.5752, 21.625837), (94.226567, 21.488009))
            Line((94.226567, 21.488009), (96.930077, 21.488009))
            Line((96.930077, 21.488009), (96.930077, 21.67185))
        make_face()
        with BuildLine():
            ThreePointArc((97.179601, 21.488009), (97.179811, 21.579146), (97.180442, 21.670281))
            ThreePointArc((97.180442, 21.670281), (97.055262, 21.671458), (96.930077, 21.67185))
            Line((96.930077, 21.67185), (96.930077, 21.488009))
            Line((96.930077, 21.488009), (97.179601, 21.488009))
        make_face()
    extrude(amount=F3_DEPTH)


solid = Compound([f1.part, f2.part, f3.part])
